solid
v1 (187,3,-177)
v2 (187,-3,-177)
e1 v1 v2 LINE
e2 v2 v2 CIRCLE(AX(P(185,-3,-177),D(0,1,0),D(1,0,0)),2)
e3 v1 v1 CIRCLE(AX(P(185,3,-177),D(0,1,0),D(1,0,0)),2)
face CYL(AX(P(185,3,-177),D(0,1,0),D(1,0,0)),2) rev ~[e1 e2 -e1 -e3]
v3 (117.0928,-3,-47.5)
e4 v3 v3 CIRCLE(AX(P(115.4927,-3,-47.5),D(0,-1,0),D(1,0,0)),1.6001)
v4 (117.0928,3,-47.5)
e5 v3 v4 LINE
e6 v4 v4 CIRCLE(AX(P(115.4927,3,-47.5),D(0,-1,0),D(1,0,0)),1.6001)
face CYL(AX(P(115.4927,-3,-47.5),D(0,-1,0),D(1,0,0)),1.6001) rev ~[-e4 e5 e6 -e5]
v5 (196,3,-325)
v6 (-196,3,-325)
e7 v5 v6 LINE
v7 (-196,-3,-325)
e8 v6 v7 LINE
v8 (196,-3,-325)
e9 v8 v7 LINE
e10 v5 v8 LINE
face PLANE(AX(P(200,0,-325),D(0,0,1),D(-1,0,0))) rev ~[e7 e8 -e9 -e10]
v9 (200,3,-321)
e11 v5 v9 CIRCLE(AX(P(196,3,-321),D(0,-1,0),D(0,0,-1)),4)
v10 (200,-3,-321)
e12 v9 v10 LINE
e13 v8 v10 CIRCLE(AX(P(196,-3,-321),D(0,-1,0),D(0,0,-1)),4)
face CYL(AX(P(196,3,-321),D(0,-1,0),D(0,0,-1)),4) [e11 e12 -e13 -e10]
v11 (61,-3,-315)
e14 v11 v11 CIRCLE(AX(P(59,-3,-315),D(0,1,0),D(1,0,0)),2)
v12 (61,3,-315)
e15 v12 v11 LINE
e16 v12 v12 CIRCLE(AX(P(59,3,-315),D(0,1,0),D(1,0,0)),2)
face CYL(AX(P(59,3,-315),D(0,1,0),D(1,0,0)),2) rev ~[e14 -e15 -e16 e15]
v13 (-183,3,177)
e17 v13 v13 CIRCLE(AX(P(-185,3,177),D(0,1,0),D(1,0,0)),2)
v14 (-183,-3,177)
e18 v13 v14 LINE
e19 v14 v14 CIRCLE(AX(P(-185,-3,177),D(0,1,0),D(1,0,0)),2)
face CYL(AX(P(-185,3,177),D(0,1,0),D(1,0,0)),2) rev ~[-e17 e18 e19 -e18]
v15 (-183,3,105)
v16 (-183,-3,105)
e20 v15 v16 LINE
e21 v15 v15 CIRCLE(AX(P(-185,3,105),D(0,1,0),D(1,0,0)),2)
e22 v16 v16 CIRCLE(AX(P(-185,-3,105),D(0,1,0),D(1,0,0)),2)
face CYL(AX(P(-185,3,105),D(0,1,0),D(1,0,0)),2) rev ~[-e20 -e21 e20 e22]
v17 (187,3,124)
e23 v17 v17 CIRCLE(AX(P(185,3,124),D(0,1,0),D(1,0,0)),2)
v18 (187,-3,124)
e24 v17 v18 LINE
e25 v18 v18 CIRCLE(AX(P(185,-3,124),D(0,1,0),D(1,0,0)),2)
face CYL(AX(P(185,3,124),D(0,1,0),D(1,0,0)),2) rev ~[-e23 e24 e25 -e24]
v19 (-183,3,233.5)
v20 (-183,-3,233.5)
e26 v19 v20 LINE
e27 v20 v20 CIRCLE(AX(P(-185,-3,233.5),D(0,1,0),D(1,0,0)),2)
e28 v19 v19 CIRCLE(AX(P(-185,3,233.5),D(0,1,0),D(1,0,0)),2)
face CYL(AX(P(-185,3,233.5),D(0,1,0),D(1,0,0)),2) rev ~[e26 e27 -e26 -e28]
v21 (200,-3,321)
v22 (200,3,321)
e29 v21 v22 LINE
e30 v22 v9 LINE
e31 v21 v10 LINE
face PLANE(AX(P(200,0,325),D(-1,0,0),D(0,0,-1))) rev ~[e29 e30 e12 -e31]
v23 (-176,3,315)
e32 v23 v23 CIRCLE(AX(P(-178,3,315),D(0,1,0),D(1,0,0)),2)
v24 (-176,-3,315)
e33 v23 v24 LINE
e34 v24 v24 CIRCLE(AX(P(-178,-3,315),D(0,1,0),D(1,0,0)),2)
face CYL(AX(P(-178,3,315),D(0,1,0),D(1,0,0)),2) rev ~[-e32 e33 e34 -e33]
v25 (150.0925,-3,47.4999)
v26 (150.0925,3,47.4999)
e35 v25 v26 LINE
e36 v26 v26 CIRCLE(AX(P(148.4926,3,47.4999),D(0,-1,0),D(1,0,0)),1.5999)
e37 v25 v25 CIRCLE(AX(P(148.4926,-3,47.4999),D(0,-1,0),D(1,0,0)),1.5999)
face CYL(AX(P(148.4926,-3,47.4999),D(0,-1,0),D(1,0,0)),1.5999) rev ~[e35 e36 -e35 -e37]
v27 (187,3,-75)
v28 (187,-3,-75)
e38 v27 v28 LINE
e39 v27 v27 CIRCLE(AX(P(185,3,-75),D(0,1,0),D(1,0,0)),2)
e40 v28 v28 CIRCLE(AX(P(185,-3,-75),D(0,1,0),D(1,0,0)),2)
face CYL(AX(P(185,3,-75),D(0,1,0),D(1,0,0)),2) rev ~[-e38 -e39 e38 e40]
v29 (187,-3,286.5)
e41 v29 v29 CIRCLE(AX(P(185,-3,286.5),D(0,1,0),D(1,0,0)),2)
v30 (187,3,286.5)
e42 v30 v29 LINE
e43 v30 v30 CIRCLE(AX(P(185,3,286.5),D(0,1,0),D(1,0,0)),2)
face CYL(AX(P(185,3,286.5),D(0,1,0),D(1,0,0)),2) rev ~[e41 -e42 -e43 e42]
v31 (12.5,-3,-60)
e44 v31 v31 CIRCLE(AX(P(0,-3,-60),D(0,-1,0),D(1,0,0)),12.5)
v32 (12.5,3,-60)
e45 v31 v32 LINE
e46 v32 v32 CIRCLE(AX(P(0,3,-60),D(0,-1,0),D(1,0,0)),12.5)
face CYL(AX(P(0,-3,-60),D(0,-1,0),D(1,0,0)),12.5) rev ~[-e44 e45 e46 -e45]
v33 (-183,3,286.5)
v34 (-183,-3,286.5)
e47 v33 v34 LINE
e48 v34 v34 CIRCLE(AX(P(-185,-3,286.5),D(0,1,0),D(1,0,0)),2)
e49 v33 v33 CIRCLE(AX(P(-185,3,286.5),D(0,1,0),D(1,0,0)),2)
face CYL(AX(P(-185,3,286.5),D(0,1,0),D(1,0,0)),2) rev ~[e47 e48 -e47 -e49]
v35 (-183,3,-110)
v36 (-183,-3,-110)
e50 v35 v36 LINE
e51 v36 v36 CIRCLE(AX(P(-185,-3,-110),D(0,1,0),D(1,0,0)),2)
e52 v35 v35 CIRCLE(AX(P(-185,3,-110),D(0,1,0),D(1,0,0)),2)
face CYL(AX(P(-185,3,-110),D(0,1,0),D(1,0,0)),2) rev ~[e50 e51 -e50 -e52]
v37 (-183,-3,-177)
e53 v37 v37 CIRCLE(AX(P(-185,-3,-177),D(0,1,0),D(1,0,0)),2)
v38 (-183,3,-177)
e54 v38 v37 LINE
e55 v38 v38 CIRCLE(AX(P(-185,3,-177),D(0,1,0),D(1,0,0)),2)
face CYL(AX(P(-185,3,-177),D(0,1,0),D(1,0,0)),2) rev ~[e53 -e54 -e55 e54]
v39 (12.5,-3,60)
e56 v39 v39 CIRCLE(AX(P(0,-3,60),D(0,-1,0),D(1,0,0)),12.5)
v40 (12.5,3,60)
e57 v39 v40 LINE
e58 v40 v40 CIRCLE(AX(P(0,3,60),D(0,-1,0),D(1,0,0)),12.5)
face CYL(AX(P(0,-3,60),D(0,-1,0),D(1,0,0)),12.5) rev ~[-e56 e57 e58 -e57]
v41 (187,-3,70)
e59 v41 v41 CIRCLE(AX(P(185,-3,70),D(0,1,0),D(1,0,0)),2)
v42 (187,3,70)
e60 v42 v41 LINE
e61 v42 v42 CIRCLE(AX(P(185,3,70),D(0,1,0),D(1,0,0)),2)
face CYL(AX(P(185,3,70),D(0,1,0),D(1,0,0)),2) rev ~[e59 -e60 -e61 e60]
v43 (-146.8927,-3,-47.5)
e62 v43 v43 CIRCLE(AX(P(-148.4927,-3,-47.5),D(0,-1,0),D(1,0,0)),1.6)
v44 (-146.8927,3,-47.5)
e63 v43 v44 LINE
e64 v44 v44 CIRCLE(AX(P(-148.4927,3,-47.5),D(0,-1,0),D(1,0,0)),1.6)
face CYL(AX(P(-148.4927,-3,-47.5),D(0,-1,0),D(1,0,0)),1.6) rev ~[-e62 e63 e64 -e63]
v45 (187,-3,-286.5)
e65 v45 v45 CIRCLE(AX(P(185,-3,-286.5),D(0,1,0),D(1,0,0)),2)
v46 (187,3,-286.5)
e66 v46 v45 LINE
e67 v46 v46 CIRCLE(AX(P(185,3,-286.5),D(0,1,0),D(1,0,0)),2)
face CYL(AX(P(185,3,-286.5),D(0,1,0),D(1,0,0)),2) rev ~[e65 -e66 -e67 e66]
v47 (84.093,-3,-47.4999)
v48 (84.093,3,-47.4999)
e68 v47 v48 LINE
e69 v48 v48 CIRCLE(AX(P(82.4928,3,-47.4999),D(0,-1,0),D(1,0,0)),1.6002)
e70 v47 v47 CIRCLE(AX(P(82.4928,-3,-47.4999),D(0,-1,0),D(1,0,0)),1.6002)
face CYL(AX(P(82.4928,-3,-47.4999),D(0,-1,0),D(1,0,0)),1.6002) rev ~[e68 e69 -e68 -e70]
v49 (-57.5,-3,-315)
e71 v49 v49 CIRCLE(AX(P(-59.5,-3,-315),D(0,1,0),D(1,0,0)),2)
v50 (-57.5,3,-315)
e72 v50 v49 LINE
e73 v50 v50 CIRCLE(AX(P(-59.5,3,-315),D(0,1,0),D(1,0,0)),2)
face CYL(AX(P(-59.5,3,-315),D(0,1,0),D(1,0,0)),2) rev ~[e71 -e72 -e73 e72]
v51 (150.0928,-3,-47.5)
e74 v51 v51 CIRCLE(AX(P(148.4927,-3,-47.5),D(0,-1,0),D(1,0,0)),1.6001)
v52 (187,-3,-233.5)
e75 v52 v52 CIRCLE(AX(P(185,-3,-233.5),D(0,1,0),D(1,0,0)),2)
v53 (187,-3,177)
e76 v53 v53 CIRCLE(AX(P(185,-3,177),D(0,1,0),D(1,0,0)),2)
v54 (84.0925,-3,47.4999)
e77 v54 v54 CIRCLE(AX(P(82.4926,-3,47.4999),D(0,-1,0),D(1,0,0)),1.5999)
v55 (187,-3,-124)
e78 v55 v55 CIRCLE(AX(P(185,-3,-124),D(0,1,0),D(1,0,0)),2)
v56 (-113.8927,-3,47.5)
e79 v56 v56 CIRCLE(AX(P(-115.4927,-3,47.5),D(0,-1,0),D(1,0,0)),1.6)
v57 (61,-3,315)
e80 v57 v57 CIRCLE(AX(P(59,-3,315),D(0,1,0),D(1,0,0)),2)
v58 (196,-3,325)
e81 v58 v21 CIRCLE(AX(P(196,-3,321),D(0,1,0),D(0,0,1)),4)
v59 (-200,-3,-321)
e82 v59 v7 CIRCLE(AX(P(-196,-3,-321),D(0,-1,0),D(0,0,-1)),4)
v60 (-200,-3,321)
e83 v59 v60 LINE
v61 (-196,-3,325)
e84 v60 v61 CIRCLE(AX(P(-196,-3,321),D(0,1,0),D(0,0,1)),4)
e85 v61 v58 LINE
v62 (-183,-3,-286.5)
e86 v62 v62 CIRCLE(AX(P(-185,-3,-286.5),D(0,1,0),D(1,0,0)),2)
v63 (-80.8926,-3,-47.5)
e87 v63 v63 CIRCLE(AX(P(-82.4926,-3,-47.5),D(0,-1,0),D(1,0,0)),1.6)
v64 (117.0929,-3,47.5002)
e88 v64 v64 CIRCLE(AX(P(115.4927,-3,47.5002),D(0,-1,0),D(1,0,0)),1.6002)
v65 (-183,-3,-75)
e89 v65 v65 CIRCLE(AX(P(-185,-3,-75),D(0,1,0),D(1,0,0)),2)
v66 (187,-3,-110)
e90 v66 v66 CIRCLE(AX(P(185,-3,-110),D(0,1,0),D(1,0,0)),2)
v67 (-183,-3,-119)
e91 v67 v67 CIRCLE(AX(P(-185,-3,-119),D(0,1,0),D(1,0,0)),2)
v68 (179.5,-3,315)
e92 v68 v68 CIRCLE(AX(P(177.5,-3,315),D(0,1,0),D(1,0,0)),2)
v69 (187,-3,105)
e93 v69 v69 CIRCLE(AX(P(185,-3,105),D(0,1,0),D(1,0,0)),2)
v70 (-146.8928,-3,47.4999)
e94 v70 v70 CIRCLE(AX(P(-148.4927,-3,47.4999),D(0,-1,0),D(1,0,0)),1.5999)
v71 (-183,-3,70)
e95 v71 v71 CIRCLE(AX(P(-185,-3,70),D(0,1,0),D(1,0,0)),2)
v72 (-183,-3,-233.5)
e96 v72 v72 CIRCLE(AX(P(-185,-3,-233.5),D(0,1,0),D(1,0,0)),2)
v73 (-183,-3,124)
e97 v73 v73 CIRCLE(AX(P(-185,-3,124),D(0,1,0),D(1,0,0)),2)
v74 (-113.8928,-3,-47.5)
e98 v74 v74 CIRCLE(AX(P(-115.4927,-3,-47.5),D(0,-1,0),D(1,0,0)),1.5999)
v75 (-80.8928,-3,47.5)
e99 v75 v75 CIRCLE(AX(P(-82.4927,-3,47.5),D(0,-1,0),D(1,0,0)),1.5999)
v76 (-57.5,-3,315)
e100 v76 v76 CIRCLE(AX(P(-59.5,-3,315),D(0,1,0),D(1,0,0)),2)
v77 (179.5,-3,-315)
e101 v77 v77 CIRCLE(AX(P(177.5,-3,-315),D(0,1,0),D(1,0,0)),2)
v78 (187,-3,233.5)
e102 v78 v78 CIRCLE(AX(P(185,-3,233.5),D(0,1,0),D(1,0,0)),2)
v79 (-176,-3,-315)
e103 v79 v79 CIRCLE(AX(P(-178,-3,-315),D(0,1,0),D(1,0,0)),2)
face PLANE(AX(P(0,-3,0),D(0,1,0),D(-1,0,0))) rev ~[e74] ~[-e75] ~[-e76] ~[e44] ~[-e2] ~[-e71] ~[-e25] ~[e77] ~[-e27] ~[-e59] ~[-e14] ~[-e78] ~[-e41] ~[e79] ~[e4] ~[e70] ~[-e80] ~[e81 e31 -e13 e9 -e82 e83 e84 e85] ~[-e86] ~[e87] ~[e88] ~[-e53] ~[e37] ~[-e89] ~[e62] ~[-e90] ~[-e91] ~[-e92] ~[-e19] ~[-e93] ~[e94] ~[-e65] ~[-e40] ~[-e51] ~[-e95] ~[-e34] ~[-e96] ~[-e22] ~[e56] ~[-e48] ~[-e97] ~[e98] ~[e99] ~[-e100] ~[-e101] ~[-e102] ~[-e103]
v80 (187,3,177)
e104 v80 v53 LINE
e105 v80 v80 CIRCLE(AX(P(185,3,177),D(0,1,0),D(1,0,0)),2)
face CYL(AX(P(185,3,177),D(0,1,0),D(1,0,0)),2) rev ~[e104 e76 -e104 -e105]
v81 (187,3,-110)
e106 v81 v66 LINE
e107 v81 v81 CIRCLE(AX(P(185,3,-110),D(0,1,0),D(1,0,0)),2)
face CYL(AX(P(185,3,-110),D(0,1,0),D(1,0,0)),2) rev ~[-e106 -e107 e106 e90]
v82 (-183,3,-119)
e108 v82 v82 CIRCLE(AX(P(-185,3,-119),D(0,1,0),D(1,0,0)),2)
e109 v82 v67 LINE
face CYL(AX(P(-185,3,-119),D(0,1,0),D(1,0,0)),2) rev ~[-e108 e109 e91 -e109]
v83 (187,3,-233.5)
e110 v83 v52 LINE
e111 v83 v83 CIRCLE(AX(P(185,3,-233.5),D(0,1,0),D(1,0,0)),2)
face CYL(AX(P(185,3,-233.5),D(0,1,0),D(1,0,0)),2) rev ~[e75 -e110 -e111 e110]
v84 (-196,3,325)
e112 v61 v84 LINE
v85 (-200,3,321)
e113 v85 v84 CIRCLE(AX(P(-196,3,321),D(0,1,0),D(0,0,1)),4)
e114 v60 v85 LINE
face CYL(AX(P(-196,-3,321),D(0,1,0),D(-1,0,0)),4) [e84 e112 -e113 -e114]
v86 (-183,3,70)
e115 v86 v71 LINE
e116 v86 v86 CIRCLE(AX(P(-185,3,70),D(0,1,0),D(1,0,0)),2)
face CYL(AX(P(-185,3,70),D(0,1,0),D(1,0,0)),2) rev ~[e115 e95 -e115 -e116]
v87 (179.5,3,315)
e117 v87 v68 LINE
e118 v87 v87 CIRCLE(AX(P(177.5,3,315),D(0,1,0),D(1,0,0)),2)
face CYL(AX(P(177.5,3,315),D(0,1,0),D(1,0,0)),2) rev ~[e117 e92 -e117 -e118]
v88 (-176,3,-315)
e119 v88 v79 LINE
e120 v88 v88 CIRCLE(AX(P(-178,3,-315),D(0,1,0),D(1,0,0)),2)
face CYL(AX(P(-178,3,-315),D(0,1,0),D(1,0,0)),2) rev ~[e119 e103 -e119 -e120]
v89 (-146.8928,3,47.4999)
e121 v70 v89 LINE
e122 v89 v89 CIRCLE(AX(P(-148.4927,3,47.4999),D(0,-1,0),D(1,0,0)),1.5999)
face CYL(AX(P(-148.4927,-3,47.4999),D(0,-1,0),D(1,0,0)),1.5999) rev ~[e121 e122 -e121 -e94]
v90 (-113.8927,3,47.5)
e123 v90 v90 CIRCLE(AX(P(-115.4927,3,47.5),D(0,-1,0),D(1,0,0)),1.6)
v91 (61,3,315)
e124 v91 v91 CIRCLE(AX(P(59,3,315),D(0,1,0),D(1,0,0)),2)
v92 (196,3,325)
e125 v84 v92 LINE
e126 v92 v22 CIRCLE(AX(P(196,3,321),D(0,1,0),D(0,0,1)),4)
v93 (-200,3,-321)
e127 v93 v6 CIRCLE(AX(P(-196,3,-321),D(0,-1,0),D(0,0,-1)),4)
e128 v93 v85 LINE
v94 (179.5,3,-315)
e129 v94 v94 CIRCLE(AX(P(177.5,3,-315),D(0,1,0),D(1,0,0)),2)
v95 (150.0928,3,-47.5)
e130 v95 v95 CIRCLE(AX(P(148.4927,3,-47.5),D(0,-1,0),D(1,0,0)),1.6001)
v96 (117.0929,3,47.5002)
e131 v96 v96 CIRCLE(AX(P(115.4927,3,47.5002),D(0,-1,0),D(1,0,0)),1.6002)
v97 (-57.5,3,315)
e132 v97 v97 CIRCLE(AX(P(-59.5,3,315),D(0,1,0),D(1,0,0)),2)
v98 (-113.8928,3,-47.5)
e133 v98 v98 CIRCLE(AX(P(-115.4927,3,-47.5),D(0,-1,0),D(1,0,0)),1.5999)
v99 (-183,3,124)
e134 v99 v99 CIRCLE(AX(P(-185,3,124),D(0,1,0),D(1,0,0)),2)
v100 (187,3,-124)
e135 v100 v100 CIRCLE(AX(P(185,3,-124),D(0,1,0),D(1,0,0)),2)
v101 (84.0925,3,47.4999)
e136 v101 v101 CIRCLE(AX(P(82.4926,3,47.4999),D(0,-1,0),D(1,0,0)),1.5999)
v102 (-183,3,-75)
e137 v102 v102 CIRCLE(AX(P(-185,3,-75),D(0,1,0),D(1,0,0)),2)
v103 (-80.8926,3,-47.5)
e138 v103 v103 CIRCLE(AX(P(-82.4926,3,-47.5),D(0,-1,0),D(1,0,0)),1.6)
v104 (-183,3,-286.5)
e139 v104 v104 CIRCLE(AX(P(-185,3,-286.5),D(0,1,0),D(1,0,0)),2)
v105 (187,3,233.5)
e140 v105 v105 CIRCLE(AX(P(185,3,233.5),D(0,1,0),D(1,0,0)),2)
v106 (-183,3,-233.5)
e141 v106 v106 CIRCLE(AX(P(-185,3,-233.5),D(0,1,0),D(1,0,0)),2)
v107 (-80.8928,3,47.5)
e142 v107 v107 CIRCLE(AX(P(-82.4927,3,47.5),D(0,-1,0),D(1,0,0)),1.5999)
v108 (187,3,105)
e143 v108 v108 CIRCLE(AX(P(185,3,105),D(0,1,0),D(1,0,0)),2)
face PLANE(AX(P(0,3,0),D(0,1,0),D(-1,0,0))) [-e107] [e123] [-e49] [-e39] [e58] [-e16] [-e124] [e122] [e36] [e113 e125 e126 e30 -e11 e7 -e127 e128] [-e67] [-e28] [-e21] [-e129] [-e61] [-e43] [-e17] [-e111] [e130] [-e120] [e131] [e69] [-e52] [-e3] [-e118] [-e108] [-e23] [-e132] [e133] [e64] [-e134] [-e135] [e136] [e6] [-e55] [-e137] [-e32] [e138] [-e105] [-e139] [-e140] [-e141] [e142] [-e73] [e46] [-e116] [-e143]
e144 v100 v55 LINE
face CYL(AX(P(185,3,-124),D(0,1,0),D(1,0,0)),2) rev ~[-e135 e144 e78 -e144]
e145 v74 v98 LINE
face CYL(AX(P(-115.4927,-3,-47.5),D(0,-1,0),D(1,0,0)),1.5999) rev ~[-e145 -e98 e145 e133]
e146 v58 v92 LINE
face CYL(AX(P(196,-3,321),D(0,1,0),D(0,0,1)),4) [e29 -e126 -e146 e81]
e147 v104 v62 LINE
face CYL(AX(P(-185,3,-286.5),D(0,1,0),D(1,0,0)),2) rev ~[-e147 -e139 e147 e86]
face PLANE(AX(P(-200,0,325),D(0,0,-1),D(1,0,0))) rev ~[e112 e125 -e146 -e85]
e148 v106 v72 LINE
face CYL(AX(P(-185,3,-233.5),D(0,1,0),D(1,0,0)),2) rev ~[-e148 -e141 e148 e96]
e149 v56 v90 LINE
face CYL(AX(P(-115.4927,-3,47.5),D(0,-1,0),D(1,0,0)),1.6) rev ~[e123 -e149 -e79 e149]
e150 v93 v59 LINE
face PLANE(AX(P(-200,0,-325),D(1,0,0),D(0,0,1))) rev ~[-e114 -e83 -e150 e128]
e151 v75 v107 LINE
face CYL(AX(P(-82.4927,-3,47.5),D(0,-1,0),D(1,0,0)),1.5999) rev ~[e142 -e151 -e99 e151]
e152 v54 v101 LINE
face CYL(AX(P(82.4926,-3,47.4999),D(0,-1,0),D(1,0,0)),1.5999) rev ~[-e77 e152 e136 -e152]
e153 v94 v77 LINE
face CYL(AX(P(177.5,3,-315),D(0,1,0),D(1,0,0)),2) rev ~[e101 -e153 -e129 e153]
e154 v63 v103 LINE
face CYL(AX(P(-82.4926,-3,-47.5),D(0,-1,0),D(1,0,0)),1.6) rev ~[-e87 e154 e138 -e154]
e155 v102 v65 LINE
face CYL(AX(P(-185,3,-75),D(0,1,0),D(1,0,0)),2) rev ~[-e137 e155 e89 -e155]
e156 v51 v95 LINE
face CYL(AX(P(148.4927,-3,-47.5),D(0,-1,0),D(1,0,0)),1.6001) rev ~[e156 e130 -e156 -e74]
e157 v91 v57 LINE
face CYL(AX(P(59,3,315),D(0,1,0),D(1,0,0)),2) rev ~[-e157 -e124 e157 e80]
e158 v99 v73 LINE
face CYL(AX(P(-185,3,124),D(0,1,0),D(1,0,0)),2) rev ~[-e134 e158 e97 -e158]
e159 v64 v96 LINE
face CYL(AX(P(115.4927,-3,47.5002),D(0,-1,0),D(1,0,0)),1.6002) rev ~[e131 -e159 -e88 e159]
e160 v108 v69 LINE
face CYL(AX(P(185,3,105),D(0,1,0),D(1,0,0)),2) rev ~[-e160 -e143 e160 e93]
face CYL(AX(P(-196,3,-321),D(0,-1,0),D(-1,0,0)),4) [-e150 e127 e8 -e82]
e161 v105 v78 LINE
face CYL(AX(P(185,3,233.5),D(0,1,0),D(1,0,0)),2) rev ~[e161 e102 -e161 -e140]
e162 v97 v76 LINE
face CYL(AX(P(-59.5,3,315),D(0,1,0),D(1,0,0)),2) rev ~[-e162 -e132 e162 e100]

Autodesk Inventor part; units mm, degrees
ref_plane "YZ Plane" through (0, 0, 0) normal (1, 0, 0) x (0, 1, 0)
ref_plane "XZ Plane" through (0, 0, 0) normal (0, 1, 0) x (-1, 0, 0)
ref_plane "XY Plane" through (0, 0, 0) normal (0, 0, 1) x (1, 0, 0)
sketch "Эскиз1" plane through (0, 0, 0) normal (0, 1, 0) x (-1, 0, 0)
  line L0 (200, 325) -> (-200, 325)
  line L1 (-200, 325) -> (-200, -325)
  line L2 (-200, -325) -> (200, -325)
  line L3 (200, -325) -> (200, 325)
  line L4 (200, 325) -> (-200, -325) construction
  line L5 (-200, 325) -> (200, -325) construction
  point P0 (0, 0)
  dimension "d0" = 650
  dimension "d1" = 400
extrude "Выдавливание1" add sketch "Эскиз1" along normal mid plane 6
fillet "Сопряжение1" radius 4 4 edges at (-200, 0, -325) (200, 0, -325) (200, 0, 325) (-200, 0, 325)
sketch "Эскиз3" plane through (0, 3, 0) normal (0, 1, 0) x (1, 0, 0)
  circle A0 centre (185, -105) radius 2
  arc A1 (-200, -321) -> (-196, -325) centre (-196, -321) ccw projected
  line L0 (-196, -325) -> (196, -325) projected
  arc A2 (196, -325) -> (200, -321) centre (196, -321) ccw projected
  line L1 (200, -321) -> (200, 321) projected
  arc A3 (200, 321) -> (196, 325) centre (196, 321) ccw projected
  line L2 (196, 325) -> (-196, 325) projected
  arc A4 (-196, 325) -> (-200, 321) centre (-196, 321) ccw projected
  line L3 (-200, 321) -> (-200, -321) projected
  line L4 (185, -413) -> (185, 413) construction
  circle A5 centre (-178, 315) radius 2
  line L5 (280, 0) -> (-280, 0) construction
  line L6 (-200, 315) -> (-183.7984, 315) construction
  circle A6 centre (-59.5, 315) radius 2
  circle A7 centre (59, 315) radius 2
  circle A8 centre (177.5, 315) radius 2
  circle A9 centre (185, -286.5) radius 2
  circle A10 centre (185, -233.5) radius 2
  circle A11 centre (185, -177) radius 2
  circle A12 centre (185, -124) radius 2
  circle A13 centre (-178, -315) radius 2
  circle A14 centre (-59.5, -315) radius 2
  circle A15 centre (59, -315) radius 2
  circle A16 centre (177.5, -315) radius 2
  line L7 (0, -50) -> (0, 50) construction
  circle A17 centre (-185, -105) radius 2
  circle A18 centre (-185, -286.5) radius 2
  circle A19 centre (-185, -233.5) radius 2
  circle A20 centre (-185, -177) radius 2
  circle A21 centre (185, 286.5) radius 2
  circle A22 centre (185, 233.5) radius 2
  circle A23 centre (185, 177) radius 2
  circle A24 centre (185, 124) radius 2
  circle A25 centre (-185, 286.5) radius 2
  circle A26 centre (-185, 233.5) radius 2
  circle A27 centre (-185, 177) radius 2
  circle A28 centre (-185, 119) radius 2
  circle A29 centre (185, -70) radius 2
  circle A30 centre (185, 75) radius 2
  circle A31 centre (185, 110) radius 2
  circle A32 centre (-185, -105) radius 2
  circle A33 centre (-185, -70) radius 2
  circle A34 centre (-185, 75) radius 2
  circle A35 centre (-185, 110) radius 2
  circle A36 centre (-185, -124) radius 2
  point P0 (0, 0)
  point P1 (185, 325)
  point P2 (185, -103)
  point P3 (185, -107)
  point P4 (185, -325)
  point P5 (0, 0)
  dimension "d7" = 4
  dimension "d15" = 4
  dimension "d17" = 220
  dimension "d34" = 10
  dimension "d35" = 22
  dimension "d38" = 118.5
  dimension "d43" = 4
  dimension "d44" = 38.5
  dimension "d45" = 4
  dimension "d46" = 4
  dimension "d47" = 4
  dimension "d48" = 53
  dimension "d49" = 53
  dimension "d50" = 56.5
  dimension "d51" = 100
  dimension "d58" = 35
  dimension "d59" = 35
  dimension "d60" = 14
extrude "Выдавливание3" cut sketch "Эскиз3" against normal up to surface (6 mm away) contours A0 | A5 | A6 | A7 | A8 | A9 | A10 | A11 | A12 | A13 | A14 | A15 | A16 | A17 | A18 | A19 | A20 | A21 | A22 | A23 | A24 | A25 | A26 | A27 | A28 | A29 | A30 | A31 | A33 | A34 | A35 | A36
sketch "Эскиз5" plane through (0, -3, 0) normal (0, -1, 0) x (1, 0, 0)
  circle A0 centre (148.4926, 47.4999) radius 1.5999 projected
  circle A1 centre (115.4927, 47.5002) radius 1.6002 projected
  circle A2 centre (82.4926, 47.4999) radius 1.5999 projected
  circle A3 centre (82.4928, -47.4999) radius 1.6002 projected
  circle A4 centre (115.4927, -47.5) radius 1.6001 projected
  circle A5 centre (148.4927, -47.5) radius 1.6001 projected
  circle A6 centre (-82.4927, 47.5) radius 1.5999 projected
  circle A7 centre (-115.4927, 47.5) radius 1.6 projected
  circle A8 centre (-148.4927, 47.4999) radius 1.5999 projected
  circle A9 centre (-148.4927, -47.5) radius 1.6 projected
  circle A10 centre (-115.4927, -47.5) radius 1.5999 projected
  circle A11 centre (-82.4926, -47.5) radius 1.6 projected
  point P0 (0, 0)
extrude "Выдавливание5" cut sketch "Эскиз5" against normal up to surface (6 mm away)
sketch "Эскиз6" plane through (0, -3, 0) normal (0, -1, 0) x (1, 0, 0)
  circle A0 centre (0, 60) radius 12.5
  circle A1 centre (0, -60) radius 12.5
  line L0 (0, 455) -> (0, -455) construction
  point P0 (0, 0)
  dimension "d61" = 25
  dimension "d62" = 25
  dimension "d63" = 60
  dimension "d64" = 60
extrude "Выдавливание6" cut sketch "Эскиз6" against normal up to surface (6 mm away)
sketch "Эскиз7" plane through (0, -3, 0) normal (0, -1, 0) x (1, 0, 0)
  line L0 (200, 321) -> (200, -321) projected
  line L1 (200, 0) -> (175, 0)
  line L2 (175, 0) -> (185, -17.3205)
  line L3 (185, -17.3205) -> (150, -17.3205)
  line L4 (150, -17.3205) -> (160, 0)
  line L5 (160, 0) -> (135, 0)
  line L6 (-200, -321) -> (-200, 321) projected
  line L7 (135, 0) -> (145, 17.3205)
  line L8 (145, 17.3205) -> (110, 17.3205)
  line L9 (110, 17.3205) -> (120, 0)
  line L10 (-280, 0) -> (280, 0) construction
  line L11 (101.6669, 0) -> (76.6669, 0)
  line L12 (76.6669, 0) -> (86.6669, -17.3205)
  line L13 (86.6669, -17.3205) -> (51.6669, -17.3205)
  line L14 (51.6669, -17.3205) -> (61.6669, 0)
  line L15 (61.6669, 0) -> (36.6669, 0)
  line L16 (36.6669, 0) -> (46.6669, 17.3205)
  line L17 (46.6669, 17.3205) -> (11.6669, 17.3205)
  line L18 (11.6669, 17.3205) -> (21.6669, 0)
  line L19 (3.3338, 0) -> (-21.6662, 0)
  line L20 (-21.6662, 0) -> (-11.6662, -17.3205)
  line L21 (-11.6662, -17.3205) -> (-46.6662, -17.3205)
  line L22 (-46.6662, -17.3205) -> (-36.6662, 0)
  line L23 (-36.6662, 0) -> (-61.6662, 0)
  line L24 (-61.6662, 0) -> (-51.6662, 17.3205)
  line L25 (-51.6662, 17.3205) -> (-86.6662, 17.3205)
  line L26 (-86.6662, 17.3205) -> (-76.6662, 0)
  line L27 (-94.9993, 0) -> (-119.9993, 0)
  line L28 (-119.9993, 0) -> (-109.9993, -17.3205)
  line L29 (-109.9993, -17.3205) -> (-144.9993, -17.3205)
  line L30 (-144.9993, -17.3205) -> (-134.9993, 0)
  line L31 (-134.9993, 0) -> (-159.9993, 0)
  line L32 (-159.9993, 0) -> (-149.9993, 17.3205)
  line L33 (-149.9993, 17.3205) -> (-184.9993, 17.3205)
  line L34 (-184.9993, 17.3205) -> (-174.9993, 0)
  line L35 (120, 0) -> (101.6669, 0)
  line L36 (-174.9993, 0) -> (-200, 0)
  line L37 (21.6669, 0) -> (3.3338, 0)
  line L38 (-76.6662, 0) -> (-94.9993, 0)
  point P0 (0, 0)
  dimension "d77" = 15
  dimension "d78" = 25
  dimension "d79" = 15
  dimension "d80" = 60
  dimension "d87" = 60
  dimension "d104" = 60
  dimension "d105" = 60
  dimension "d106" = 15
  dimension "d107" = 35
  dimension "d110" = 98.3331
split_face "Разделение2"
sketch "Эскиз8" plane through (-196, -3, 325) normal (0, -1, 0) x (1, 0, 0)
  circle A0 centre (381, -75) radius 3.1
  circle A1 centre (381, -45) radius 3.1
  circle A2 centre (381, -15) radius 3.1
  circle A3 centre (351, -15) radius 3.1
  circle A4 centre (11, -15) radius 3.1
  circle A5 centre (41, -15) radius 3.1
  circle A6 centre (11, -45) radius 3.1
  circle A7 centre (11, -75) radius 3.1
  point P0 (196, -325)
sketch "Эскиз9" plane through (-196, -3, -325) normal (0, -1, 0) x (1, 0, 0)
  circle A0 centre (381, 15) radius 3.1
  circle A1 centre (351, 15) radius 3.1
  circle A2 centre (381, 45) radius 3.1
  circle A3 centre (381, 75) radius 3.1
  circle A4 centre (41, 15) radius 3.1
  circle A5 centre (11, 15) radius 3.1
  circle A6 centre (11, 45) radius 3.1
  circle A7 centre (11, 75) radius 3.1
  point P0 (196, 325)
extrude "Выдавливание7" [suppressed]
extrude "Выдавливание8" [suppressed]
sketch "Эскиз10" plane through (-196, -3, 325) normal (0, -1, 0) x (1, 0, 0)
  circle A0 centre (68.41, -155.97) radius 1.59
  circle A1 centre (116.67, -157.51) radius 1.59
  circle A2 centre (83.61, -105.5) radius 1.55
  circle A3 centre (111.46, -105.5) radius 1.55
  circle A4 centre (68.29, -81.04) radius 1.59
  circle A5 centre (116.67, -74.54) radius 1.59
  circle A6 centre (146.01, -88.2899) radius 1.65
  circle A7 centre (177.0381, -104.4313) radius 1.65
  point P0 (196, -325)
extrude "Выдавливание9" [suppressed]
sketch "Эскиз11" plane through (-196, -3, -325) normal (0, -1, 0) x (1, 0, 0)
  circle A0 centre (121, 280) radius 3.15
  circle A1 centre (271, 280) radius 3.15
  circle A2 centre (121, 90) radius 3.15
  circle A3 centre (271, 90) radius 3.15
  point P0 (196, 325)
extrude "Выдавливание10" [suppressed]
sketch "Эскиз12" plane through (-196, -3, 325) normal (0, -1, 0) x (1, 0, 0)
  circle A0 centre (255, -10) radius 2
  circle A1 centre (136.5, -10) radius 2
  circle A2 centre (255, -640) radius 2
  circle A3 centre (136.5, -640) radius 2
  point P0 (196, -325)
extrude "Выдавливание11" [suppressed]
sketch "Эскиз14" plane through (-196, 3, 325) normal (0, 1, 0) x (1, 0, 0)
  circle A0 centre (11.994, 240.175) radius 2
  line L0 (-4, 325) -> (-4, 4) projected
  line L1 (-4, 325) -> (21.0007, 325) projected
  line L2 (11.994, 325) -> (11.994, 0) construction
  line L3 (21.0007, 325) -> (-4, 325) projected
  line L4 (0, 0) -> (392, 0) projected
  circle A1 centre (11.994, 189.852) radius 2
  point P0 (196, 325)
  dimension "d127" = 15.994
  dimension "d128" = 4
  dimension "d129" = 84.825
  dimension "d130" = 50.323
extrude "Выдавливание12" [suppressed]
sketch "Эскиз15" plane through (-196, 3, -325) normal (0, 1, 0) x (1, 0, 0)
  line L0 (33.816, 0) -> (33.816, -325) construction
  line L1 (392, 0) -> (0, 0) projected
  line L2 (21.0007, -325) -> (-4, -325) projected
  line L3 (-4, -4) -> (-4, -325) projected
  circle A0 centre (33.816, -78.112) radius 8.462
  circle A1 centre (33.816, -185.601) radius 8.462
  point P0 (196, -325)
  dimension "d133" = 37.816
  dimension "d134" = 16.924
  dimension "d135" = 139.399
  dimension "d136" = 107.489
extrude "Выдавливание13" [suppressed]
mirror "Зеркальное отражение1" [suppressed]
properties part number "platform"
